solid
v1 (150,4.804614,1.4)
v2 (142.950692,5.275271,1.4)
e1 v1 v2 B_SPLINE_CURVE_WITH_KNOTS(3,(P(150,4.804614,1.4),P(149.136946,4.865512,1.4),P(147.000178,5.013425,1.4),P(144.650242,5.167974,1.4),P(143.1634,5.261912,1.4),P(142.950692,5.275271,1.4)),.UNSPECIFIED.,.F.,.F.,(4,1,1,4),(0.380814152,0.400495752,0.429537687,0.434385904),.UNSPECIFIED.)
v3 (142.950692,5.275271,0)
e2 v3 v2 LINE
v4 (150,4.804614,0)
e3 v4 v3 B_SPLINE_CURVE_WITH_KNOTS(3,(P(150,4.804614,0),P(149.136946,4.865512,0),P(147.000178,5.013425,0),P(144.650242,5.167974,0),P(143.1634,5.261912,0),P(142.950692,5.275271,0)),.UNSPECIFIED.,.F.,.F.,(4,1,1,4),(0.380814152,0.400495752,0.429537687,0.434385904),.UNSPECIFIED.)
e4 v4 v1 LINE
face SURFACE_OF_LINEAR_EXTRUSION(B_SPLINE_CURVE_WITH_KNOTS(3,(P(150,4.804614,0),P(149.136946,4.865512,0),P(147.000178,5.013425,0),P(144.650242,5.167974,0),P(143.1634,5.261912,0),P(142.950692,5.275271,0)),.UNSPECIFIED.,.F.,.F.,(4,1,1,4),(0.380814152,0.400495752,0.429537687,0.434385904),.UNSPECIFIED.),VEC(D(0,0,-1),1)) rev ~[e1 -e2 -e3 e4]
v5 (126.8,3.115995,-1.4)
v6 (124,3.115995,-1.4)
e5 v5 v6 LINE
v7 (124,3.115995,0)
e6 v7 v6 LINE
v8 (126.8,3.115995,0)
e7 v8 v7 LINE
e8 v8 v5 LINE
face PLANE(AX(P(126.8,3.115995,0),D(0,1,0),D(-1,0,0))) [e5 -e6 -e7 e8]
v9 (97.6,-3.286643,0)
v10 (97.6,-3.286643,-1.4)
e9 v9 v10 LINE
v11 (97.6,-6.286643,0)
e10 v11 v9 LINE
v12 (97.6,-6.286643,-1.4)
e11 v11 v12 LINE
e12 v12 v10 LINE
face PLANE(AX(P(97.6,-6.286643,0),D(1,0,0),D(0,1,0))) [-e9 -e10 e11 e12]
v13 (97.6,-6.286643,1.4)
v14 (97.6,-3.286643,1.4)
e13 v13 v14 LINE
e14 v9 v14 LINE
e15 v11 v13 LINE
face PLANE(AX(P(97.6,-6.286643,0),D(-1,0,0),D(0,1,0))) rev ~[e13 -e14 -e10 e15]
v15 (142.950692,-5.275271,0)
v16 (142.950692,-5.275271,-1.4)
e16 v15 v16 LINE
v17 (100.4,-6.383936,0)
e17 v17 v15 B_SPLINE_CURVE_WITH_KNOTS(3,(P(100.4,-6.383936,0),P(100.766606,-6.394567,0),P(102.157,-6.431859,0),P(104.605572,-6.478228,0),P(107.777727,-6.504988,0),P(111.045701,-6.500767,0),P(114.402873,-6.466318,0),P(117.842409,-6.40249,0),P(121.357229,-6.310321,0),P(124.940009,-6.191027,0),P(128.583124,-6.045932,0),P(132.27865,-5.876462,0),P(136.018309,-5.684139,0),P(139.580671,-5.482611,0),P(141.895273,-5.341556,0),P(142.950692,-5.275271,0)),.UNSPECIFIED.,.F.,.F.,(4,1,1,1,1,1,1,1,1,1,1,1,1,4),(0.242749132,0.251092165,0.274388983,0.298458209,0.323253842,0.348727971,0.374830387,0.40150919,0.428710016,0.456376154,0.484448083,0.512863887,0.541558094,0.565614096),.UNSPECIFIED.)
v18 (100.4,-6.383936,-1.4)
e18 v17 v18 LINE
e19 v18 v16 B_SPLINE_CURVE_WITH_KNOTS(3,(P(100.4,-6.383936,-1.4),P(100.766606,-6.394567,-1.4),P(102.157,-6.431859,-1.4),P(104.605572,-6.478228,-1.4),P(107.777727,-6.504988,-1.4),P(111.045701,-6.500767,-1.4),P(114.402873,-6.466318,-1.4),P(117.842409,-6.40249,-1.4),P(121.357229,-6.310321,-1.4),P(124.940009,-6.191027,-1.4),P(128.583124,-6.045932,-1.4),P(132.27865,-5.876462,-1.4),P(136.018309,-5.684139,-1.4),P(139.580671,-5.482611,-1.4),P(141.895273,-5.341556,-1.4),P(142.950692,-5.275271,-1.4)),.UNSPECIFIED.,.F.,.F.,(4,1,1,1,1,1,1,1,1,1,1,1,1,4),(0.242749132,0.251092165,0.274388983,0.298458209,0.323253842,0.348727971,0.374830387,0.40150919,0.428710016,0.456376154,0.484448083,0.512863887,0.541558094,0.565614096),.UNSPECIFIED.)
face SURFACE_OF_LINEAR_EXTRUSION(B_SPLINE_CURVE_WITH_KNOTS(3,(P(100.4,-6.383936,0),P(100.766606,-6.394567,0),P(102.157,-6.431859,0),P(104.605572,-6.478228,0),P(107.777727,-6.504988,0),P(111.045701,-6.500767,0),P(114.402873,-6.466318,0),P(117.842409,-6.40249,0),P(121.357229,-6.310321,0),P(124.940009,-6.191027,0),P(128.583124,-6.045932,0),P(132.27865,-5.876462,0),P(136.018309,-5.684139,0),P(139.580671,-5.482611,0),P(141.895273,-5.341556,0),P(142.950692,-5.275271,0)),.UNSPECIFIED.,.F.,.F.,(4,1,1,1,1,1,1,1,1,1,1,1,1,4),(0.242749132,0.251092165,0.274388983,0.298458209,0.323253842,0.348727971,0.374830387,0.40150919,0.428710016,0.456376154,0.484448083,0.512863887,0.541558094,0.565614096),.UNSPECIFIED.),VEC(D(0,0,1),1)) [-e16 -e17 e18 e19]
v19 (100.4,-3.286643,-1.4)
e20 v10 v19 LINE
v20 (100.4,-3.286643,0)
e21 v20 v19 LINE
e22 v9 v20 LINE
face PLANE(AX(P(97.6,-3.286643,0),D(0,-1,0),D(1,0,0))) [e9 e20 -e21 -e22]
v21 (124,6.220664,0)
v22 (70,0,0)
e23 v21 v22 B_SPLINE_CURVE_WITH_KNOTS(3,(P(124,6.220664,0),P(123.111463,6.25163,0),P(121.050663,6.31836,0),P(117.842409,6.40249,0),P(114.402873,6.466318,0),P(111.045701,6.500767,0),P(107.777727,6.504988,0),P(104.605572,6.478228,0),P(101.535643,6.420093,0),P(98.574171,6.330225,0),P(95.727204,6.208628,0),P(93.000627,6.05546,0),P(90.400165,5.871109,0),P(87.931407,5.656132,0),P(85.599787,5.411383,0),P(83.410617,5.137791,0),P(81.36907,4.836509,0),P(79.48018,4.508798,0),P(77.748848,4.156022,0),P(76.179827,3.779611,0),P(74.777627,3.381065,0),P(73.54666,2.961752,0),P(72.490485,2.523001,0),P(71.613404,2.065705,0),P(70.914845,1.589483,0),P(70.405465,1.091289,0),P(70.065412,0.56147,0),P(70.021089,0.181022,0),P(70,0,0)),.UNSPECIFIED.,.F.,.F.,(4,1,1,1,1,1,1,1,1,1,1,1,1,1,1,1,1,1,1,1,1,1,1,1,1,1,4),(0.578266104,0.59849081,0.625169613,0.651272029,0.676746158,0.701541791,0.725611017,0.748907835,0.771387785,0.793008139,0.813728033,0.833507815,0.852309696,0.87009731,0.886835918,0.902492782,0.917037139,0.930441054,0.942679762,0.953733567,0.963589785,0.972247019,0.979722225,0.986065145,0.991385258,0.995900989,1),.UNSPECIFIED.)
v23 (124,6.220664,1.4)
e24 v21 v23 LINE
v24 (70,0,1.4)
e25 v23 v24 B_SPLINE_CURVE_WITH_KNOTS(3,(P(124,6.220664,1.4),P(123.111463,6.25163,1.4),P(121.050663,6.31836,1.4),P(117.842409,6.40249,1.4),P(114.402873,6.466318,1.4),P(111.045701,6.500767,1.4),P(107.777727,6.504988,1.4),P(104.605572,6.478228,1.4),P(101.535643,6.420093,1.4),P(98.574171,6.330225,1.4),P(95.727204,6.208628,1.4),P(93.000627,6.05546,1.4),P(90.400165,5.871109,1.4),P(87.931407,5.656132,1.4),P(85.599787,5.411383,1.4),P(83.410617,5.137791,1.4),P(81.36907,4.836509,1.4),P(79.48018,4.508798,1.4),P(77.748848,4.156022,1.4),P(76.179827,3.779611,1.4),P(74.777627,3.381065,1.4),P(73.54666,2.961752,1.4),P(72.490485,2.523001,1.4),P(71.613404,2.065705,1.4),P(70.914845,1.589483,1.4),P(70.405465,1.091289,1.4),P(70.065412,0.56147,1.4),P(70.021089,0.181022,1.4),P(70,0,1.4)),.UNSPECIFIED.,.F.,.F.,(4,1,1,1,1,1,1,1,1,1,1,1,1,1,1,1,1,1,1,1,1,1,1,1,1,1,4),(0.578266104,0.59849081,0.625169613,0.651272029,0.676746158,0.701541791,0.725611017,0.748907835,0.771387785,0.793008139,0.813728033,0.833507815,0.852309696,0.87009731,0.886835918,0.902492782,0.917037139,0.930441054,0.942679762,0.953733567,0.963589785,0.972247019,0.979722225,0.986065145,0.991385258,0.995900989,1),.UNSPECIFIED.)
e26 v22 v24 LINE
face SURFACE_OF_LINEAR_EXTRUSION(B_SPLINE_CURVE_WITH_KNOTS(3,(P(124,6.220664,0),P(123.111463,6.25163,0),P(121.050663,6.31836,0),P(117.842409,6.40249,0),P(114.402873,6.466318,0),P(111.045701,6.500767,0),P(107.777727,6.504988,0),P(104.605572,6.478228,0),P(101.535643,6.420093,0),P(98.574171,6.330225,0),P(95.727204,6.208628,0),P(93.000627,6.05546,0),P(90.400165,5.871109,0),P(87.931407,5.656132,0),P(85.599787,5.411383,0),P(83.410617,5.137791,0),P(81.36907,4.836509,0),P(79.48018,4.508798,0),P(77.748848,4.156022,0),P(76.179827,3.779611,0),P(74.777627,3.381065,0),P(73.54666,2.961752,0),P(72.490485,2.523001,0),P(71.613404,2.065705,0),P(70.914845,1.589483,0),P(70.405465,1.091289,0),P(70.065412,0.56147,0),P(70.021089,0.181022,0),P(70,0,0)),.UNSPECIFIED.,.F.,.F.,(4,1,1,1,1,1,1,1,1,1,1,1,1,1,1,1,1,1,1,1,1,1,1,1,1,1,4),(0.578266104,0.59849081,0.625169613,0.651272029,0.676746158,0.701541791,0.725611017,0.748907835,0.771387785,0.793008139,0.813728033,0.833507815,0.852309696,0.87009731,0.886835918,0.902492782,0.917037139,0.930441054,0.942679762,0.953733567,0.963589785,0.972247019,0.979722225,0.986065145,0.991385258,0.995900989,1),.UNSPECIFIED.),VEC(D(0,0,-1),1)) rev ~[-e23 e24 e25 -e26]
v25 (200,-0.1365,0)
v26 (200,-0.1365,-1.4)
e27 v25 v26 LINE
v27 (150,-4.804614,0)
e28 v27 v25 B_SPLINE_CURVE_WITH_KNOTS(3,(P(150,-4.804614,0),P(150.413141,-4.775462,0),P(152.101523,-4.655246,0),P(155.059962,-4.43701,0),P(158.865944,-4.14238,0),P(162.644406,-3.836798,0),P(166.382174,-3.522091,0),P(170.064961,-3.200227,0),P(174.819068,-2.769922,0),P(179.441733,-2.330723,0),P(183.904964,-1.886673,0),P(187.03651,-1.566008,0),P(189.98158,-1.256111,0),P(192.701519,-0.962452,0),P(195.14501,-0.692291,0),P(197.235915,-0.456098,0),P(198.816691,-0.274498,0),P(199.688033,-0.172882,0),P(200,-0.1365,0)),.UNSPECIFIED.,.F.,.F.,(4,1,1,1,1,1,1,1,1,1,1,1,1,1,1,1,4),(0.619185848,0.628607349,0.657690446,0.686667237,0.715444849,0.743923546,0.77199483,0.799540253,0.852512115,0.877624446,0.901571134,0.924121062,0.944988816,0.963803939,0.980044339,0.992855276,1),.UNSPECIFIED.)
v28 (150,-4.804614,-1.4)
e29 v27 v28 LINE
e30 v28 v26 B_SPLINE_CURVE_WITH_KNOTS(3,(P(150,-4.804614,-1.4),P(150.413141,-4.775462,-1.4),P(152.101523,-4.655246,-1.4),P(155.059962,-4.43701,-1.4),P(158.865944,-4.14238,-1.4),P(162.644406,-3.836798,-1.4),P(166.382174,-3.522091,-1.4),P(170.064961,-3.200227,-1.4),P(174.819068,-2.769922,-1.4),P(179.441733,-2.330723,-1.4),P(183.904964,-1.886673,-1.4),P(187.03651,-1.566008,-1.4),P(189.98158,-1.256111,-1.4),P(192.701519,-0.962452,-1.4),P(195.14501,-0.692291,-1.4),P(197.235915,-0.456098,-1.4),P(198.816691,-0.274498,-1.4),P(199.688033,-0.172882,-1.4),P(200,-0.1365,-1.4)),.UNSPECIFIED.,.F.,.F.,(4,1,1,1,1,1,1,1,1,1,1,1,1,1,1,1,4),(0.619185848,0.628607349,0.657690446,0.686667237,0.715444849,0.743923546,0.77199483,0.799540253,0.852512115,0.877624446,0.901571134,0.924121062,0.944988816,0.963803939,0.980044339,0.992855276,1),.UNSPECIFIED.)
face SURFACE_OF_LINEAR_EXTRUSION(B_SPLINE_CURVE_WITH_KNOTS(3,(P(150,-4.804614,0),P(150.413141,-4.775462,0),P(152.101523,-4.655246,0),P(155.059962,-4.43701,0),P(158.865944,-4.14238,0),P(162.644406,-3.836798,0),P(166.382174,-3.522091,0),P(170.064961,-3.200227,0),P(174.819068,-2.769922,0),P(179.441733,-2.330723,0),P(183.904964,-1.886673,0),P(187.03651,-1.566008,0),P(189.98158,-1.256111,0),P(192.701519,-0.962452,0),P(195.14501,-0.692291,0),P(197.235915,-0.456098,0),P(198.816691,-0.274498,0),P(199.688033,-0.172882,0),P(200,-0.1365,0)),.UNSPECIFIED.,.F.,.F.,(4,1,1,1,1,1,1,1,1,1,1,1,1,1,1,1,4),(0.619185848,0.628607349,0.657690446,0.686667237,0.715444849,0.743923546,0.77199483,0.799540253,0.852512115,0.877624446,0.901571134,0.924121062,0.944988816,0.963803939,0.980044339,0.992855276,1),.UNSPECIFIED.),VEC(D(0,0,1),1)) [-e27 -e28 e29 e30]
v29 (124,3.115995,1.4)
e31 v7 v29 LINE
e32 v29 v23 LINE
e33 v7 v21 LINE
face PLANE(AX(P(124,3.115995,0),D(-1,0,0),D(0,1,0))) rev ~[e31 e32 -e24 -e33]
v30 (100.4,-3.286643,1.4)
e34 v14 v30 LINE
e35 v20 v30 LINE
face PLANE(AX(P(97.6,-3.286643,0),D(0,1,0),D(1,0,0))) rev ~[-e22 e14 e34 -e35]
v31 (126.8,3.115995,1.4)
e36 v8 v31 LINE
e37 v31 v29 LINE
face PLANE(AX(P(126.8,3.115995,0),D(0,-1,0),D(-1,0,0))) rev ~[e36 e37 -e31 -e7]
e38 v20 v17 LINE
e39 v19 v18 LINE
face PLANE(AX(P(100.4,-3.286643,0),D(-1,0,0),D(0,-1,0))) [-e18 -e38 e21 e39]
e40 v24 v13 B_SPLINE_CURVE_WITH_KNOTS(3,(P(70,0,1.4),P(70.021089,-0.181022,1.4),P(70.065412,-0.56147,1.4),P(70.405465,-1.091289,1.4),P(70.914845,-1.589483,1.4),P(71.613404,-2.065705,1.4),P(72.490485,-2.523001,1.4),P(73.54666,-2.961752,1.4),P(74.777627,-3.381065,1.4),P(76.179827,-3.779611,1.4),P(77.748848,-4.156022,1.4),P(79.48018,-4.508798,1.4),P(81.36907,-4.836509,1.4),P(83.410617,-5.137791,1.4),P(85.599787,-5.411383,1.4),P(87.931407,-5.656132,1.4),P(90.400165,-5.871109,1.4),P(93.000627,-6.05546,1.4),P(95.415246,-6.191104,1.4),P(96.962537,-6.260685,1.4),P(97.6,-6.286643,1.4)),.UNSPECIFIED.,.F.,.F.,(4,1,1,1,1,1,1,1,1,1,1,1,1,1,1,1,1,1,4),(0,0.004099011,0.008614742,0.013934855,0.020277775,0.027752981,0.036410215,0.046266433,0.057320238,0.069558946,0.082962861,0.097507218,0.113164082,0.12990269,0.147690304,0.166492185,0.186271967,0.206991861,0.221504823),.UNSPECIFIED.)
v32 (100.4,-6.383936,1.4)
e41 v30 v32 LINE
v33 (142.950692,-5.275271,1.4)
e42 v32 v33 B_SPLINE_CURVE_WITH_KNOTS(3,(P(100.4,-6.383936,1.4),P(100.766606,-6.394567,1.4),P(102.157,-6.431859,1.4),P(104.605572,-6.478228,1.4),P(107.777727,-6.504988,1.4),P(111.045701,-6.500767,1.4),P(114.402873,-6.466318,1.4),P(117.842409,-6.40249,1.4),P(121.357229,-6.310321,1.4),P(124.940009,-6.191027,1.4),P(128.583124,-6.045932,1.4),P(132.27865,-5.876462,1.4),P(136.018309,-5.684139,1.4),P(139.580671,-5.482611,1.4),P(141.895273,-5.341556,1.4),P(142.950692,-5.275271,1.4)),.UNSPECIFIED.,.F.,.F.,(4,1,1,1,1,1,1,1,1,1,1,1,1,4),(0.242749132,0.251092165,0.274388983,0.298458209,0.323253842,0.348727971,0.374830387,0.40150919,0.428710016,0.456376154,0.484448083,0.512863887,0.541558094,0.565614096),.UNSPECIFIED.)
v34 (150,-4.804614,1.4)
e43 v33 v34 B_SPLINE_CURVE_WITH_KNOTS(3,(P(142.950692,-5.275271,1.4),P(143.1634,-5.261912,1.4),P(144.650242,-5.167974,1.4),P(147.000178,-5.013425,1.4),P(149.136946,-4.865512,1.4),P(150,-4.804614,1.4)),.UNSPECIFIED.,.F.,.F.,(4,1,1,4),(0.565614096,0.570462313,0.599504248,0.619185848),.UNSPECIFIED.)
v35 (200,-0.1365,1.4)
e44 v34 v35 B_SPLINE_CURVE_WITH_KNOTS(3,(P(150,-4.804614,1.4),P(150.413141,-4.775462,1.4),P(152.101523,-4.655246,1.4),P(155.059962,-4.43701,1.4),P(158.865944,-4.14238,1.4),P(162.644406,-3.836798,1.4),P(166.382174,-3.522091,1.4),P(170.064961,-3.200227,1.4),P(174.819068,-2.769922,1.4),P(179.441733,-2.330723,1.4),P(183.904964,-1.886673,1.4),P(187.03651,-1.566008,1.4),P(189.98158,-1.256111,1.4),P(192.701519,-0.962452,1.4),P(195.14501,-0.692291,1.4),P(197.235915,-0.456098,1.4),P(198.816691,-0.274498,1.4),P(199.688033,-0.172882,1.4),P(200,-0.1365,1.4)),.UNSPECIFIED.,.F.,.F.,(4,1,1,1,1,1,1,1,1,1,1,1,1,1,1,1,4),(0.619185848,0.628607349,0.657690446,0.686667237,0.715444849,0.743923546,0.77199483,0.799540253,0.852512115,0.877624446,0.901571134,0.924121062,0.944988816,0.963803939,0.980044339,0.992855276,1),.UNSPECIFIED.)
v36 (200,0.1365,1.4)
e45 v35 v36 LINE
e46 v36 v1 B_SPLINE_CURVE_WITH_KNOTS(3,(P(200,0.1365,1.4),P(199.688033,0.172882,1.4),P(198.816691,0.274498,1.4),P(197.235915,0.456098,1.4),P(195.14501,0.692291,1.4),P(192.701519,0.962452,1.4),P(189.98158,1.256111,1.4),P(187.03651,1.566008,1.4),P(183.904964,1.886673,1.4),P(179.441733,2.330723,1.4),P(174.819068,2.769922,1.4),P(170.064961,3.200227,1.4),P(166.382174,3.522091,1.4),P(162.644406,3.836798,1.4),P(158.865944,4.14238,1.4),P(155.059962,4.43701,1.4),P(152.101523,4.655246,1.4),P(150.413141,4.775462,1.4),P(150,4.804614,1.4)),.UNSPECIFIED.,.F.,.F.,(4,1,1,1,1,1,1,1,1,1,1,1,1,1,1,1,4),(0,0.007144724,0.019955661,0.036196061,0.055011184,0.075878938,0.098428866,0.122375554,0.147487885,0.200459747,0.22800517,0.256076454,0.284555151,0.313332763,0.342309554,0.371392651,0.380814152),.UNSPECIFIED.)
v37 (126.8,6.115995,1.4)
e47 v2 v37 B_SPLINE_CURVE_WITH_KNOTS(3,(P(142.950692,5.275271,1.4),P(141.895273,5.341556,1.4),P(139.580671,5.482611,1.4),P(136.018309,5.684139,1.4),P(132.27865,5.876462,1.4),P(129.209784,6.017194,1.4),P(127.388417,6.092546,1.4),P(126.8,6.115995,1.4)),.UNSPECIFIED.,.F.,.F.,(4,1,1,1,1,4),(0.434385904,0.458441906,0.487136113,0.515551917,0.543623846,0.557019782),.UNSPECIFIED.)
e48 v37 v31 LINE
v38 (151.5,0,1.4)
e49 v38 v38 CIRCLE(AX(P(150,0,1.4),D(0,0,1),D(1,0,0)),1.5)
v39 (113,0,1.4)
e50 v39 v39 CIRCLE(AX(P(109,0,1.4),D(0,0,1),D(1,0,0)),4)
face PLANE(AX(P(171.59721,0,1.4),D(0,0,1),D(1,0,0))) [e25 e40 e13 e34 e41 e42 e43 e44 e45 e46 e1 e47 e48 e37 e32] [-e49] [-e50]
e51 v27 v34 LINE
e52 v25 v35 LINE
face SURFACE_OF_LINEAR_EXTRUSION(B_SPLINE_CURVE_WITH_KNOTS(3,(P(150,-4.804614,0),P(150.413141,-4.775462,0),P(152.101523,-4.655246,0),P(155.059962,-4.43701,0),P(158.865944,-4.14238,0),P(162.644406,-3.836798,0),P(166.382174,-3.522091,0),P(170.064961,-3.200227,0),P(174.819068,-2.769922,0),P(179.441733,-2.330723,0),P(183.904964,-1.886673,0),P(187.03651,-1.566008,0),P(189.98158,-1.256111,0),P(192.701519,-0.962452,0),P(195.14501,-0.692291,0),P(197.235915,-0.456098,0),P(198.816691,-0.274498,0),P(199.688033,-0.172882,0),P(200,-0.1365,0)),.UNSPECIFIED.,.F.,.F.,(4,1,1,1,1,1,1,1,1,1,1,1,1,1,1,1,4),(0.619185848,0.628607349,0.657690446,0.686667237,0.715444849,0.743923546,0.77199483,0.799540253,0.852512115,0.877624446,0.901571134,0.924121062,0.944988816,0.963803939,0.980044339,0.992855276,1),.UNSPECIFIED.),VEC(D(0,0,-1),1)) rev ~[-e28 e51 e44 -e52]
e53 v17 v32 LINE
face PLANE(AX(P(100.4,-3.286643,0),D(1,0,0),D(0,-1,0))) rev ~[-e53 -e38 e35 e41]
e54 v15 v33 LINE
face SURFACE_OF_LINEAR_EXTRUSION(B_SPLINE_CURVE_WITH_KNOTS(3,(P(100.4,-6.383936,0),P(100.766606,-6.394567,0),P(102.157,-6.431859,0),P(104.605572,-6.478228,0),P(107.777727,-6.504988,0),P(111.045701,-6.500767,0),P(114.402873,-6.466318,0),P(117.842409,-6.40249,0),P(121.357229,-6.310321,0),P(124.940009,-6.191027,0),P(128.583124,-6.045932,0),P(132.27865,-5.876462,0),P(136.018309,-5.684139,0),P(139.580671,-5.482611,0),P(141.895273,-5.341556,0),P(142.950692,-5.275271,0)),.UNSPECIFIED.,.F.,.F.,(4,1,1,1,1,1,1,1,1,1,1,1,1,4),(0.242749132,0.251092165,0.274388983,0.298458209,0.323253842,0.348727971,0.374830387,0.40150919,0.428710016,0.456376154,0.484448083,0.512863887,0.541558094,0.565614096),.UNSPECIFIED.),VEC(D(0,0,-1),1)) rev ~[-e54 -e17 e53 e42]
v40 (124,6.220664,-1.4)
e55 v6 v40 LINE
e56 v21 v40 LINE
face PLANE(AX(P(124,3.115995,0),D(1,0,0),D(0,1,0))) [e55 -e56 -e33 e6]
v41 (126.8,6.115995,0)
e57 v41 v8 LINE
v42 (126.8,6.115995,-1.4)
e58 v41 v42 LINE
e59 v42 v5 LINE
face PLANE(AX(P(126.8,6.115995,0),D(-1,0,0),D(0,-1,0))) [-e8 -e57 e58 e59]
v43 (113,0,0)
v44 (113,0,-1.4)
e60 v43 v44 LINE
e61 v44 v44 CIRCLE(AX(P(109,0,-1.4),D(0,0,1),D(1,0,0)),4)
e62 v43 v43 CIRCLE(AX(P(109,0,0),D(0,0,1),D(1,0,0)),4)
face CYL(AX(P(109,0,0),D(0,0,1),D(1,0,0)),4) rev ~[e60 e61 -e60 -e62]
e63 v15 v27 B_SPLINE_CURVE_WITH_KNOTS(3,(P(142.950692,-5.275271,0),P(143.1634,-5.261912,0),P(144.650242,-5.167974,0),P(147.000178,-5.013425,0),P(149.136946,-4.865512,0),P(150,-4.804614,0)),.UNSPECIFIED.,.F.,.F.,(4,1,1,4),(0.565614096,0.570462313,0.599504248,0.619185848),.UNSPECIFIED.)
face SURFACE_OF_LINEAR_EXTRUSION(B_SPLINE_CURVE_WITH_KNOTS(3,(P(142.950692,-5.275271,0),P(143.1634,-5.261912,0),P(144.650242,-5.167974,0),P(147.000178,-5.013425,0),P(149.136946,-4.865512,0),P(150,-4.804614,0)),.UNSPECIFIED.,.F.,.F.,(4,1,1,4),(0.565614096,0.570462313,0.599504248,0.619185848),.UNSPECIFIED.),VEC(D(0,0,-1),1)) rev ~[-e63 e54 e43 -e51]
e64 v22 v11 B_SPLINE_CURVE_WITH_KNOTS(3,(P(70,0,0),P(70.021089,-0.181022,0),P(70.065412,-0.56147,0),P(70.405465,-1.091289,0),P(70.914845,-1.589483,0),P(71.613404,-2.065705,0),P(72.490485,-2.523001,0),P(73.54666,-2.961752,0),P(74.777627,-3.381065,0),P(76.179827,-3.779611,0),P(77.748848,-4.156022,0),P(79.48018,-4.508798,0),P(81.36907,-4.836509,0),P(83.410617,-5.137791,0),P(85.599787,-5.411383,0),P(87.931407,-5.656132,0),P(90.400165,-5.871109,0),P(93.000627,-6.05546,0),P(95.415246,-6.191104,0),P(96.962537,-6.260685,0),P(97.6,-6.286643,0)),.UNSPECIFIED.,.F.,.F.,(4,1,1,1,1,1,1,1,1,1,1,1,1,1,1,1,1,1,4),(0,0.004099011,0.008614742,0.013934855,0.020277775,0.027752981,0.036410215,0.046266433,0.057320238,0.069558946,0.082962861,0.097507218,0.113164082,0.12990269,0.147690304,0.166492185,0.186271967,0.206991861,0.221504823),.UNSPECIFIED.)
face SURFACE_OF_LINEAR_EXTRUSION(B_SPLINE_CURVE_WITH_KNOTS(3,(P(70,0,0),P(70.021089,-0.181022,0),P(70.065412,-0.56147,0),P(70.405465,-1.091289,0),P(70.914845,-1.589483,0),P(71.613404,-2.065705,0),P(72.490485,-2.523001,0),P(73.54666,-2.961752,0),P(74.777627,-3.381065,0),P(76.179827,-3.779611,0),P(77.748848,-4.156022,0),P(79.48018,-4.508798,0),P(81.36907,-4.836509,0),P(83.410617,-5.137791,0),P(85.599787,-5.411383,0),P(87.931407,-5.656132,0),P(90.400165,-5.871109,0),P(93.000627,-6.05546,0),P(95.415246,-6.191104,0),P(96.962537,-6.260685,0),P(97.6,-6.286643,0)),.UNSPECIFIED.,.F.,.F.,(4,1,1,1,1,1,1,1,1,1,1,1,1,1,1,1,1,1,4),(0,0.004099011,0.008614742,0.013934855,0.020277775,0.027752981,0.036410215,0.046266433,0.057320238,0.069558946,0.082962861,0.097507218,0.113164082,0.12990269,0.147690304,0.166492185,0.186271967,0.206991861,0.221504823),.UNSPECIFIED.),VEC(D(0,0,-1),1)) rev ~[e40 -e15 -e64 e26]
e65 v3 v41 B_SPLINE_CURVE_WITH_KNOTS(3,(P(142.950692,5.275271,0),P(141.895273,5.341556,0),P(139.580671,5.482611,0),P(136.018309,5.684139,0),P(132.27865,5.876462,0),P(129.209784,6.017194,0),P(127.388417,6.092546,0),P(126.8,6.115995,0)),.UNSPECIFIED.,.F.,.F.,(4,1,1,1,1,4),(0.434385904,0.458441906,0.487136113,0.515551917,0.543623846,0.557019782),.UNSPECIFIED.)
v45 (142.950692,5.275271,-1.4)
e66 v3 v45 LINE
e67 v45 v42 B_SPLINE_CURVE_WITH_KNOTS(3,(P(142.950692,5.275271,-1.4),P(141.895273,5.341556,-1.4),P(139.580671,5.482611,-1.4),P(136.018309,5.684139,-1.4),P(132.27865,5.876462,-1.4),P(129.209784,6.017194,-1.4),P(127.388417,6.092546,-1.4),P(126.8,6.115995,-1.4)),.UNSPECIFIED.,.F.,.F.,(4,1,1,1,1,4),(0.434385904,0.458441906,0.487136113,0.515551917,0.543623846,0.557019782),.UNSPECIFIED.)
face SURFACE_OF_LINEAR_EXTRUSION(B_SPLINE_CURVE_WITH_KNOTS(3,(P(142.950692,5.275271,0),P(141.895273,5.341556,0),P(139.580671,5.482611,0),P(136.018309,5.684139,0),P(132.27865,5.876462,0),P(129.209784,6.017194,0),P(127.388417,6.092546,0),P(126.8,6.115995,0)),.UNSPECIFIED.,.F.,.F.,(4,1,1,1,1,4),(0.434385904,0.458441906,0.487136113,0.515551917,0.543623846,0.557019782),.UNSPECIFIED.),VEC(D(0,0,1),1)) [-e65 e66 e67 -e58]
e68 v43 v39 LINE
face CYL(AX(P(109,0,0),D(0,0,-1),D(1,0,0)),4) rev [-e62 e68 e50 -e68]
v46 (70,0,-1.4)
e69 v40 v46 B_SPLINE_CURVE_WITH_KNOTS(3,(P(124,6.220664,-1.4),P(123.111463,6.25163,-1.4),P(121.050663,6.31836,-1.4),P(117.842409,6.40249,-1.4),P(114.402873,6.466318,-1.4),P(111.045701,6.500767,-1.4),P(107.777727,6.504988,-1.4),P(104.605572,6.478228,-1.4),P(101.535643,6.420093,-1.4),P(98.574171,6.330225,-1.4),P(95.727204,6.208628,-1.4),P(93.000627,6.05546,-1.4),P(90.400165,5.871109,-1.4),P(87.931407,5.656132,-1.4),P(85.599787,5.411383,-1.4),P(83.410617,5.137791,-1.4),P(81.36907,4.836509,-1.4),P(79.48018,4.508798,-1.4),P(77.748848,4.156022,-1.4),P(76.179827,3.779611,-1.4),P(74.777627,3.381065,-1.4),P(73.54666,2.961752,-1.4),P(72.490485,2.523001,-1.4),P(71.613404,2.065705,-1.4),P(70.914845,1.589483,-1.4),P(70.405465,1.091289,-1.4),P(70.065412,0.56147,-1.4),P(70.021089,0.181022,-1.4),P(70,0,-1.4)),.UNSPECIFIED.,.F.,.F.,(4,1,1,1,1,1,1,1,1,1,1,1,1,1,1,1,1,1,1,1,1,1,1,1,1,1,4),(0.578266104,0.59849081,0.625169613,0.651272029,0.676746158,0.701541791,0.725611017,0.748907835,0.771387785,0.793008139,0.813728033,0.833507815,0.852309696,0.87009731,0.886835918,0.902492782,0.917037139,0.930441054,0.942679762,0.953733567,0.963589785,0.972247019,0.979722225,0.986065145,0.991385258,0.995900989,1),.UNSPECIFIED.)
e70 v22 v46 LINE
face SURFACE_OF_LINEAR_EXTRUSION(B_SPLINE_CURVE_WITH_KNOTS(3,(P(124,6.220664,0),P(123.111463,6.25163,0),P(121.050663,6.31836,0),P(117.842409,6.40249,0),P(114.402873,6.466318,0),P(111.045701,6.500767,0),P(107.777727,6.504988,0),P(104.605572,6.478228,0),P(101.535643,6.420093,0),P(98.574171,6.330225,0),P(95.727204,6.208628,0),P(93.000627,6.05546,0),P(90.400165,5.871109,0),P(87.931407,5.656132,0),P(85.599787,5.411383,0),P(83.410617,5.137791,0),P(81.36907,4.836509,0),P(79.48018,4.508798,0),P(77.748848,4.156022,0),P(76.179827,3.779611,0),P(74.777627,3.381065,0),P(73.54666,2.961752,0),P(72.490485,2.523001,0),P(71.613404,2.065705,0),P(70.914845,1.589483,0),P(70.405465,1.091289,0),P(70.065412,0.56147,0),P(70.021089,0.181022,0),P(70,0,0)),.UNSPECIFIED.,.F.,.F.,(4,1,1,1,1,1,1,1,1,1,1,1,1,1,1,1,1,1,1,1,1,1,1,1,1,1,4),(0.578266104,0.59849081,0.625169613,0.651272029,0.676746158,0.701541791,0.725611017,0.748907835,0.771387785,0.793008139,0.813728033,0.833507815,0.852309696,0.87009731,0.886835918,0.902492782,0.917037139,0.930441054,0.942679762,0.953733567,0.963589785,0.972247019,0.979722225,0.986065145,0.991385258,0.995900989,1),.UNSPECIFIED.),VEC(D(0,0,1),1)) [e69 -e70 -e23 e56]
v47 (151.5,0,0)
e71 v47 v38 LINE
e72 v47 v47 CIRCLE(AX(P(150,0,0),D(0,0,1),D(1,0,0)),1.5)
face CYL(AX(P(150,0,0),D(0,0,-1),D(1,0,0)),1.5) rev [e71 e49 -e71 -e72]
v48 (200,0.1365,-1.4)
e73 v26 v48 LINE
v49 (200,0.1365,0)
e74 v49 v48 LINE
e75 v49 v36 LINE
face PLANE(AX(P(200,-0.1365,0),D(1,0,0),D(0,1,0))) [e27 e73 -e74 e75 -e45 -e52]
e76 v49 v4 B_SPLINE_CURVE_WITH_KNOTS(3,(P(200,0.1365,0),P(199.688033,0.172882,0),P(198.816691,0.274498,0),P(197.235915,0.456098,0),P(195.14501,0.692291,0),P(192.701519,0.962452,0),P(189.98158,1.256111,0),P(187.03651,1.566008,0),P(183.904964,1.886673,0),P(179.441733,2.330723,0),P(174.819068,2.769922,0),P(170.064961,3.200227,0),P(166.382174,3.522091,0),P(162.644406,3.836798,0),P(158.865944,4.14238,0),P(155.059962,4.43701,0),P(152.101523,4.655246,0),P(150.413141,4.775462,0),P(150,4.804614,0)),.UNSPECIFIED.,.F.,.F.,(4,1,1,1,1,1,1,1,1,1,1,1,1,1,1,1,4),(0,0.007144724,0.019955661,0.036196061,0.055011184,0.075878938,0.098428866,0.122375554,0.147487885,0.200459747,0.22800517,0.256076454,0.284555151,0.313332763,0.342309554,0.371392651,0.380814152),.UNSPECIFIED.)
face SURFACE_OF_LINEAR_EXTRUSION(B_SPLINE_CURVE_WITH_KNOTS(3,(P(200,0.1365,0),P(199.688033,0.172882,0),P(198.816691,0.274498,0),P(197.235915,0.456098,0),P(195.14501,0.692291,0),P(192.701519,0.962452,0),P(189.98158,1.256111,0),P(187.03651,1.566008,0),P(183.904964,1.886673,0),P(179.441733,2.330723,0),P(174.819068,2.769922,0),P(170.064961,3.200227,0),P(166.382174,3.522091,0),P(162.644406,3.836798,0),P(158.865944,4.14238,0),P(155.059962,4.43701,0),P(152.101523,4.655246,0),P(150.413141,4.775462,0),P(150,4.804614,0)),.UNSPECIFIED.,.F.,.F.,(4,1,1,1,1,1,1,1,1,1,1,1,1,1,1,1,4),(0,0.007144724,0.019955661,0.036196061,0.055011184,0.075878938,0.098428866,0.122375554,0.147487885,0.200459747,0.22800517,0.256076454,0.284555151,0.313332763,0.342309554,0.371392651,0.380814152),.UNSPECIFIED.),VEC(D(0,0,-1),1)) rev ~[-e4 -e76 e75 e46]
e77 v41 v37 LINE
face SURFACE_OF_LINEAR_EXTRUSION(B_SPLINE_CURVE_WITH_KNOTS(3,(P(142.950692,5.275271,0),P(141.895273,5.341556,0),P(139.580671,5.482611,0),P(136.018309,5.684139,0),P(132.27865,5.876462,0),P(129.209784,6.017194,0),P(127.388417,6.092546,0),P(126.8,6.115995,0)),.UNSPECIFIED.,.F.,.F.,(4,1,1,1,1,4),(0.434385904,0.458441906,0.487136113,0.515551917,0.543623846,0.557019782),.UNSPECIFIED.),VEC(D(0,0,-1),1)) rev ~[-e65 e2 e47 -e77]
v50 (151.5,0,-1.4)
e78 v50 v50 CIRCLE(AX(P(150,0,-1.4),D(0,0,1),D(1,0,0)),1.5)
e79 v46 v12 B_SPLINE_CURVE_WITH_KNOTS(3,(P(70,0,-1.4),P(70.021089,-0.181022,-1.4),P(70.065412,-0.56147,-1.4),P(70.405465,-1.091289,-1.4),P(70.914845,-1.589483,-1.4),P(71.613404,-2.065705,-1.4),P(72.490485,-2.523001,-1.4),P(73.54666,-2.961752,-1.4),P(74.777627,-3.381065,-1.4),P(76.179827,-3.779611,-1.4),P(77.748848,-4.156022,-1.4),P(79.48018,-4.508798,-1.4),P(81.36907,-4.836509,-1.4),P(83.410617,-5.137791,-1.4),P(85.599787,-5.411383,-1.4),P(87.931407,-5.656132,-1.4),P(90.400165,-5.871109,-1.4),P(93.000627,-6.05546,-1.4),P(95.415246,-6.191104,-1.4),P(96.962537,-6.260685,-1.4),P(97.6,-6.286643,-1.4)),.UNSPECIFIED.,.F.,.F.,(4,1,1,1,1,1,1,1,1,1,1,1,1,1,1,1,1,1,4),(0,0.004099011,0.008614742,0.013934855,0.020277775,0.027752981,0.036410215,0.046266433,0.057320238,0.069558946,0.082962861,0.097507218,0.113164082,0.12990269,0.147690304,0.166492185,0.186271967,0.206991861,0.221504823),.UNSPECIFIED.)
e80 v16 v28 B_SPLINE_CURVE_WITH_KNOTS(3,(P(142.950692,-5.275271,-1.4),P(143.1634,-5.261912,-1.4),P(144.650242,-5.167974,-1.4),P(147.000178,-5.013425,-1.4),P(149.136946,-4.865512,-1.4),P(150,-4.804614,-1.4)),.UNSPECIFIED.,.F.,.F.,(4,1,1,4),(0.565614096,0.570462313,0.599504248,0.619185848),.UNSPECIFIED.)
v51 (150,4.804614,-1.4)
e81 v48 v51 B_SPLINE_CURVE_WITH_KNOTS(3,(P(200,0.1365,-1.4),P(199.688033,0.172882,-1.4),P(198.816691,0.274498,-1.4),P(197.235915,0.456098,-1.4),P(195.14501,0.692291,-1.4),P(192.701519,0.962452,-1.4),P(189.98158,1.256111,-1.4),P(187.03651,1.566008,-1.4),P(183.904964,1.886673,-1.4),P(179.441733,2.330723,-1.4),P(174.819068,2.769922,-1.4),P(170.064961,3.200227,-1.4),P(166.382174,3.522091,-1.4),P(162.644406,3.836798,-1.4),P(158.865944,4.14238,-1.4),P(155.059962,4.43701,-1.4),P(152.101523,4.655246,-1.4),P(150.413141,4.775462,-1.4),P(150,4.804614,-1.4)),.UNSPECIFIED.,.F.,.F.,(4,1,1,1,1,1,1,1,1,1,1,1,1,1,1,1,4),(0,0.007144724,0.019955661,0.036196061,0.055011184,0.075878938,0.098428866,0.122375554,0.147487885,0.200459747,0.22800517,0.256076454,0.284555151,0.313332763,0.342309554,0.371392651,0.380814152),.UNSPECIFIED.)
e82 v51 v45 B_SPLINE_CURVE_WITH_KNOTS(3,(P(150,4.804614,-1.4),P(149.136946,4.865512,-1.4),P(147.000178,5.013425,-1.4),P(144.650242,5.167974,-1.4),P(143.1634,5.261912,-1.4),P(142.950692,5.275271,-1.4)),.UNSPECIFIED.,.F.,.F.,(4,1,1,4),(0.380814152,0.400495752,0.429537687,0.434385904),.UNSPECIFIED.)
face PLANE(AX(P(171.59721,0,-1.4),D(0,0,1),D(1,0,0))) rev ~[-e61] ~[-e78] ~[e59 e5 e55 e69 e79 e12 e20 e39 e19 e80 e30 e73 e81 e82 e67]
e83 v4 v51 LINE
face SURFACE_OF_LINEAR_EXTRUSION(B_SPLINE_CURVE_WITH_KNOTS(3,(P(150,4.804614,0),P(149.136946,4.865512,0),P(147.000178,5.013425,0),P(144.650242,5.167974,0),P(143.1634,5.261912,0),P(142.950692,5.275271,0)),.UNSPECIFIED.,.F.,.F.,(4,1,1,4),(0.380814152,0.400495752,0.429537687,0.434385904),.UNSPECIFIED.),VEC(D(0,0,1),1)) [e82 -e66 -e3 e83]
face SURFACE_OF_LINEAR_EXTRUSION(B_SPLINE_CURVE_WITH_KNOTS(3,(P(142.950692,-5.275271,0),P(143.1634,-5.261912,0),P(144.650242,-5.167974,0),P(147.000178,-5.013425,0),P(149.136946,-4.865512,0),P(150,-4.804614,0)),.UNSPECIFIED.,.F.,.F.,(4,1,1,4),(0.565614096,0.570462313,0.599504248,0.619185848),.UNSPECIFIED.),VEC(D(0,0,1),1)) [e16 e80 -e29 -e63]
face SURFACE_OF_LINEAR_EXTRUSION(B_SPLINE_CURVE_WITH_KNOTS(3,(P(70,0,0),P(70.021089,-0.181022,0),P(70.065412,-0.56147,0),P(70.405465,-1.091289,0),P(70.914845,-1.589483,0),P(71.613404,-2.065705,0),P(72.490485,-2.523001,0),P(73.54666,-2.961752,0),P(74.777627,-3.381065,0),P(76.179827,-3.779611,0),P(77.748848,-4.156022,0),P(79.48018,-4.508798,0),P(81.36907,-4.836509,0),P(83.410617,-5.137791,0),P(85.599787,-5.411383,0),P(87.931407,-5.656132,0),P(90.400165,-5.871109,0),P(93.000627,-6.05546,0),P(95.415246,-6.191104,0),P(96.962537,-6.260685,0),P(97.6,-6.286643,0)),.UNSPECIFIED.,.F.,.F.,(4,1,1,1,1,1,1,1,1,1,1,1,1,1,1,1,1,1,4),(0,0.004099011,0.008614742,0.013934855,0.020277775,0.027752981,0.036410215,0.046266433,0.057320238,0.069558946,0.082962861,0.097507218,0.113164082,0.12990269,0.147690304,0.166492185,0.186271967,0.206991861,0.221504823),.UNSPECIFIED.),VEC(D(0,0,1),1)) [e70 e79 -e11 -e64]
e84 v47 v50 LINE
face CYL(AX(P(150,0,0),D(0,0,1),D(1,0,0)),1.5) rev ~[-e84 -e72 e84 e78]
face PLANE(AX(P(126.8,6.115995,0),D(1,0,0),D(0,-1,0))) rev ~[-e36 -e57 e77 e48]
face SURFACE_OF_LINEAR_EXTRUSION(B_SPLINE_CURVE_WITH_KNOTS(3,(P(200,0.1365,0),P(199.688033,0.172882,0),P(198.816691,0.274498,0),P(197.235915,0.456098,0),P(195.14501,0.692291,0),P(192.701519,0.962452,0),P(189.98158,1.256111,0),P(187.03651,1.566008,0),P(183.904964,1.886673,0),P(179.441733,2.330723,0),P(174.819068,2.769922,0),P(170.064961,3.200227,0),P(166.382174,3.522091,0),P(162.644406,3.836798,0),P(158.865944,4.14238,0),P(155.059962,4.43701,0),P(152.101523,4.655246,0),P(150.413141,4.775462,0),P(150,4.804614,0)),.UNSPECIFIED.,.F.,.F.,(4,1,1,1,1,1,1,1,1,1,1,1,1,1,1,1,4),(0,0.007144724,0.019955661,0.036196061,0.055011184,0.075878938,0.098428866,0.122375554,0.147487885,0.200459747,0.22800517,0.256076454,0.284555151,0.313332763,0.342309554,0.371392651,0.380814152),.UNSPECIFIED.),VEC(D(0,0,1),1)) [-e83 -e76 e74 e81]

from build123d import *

# Parameters (mm, degrees)
SKETCH_1_R      = 4
SKETCH_1_R_2    = 1.5
EXTRUDE_1_DEPTH = 1.4


with BuildPart() as part:
    # Эскиз1 → Бобышка-Вытянуть1 (new, symmetric)
    # profile 1 of 3: a face of its own
    with BuildSketch(Plane.XY):
        with BuildLine():
            ThreePointArc((142.9506924, -5.275271304), (141.195386154, 0), (142.9506924, 5.275271304))
            add(Edge.make_bspline(
                [(142.9506924, 5.275271304), (141.895273265, 5.341555985), (139.58067118, 5.482611203), (136.018308787, 5.684139375), (132.278649951, 5.876462218), (129.209784139, 6.017194243), (127.3884169, 6.092546027), (126.8, 6.115995161)],
                knots=[0.434385904, 0.434385904, 0.434385904, 0.434385904, 0.458441906, 0.487136113, 0.515551917, 0.543623846, 0.557019782, 0.557019782, 0.557019782, 0.557019782], degree=3))
            Line((126.8, 6.115995161), (126.8, 3.115995161))
            Line((126.8, 3.115995161), (124, 3.115995161))
            Line((124, 3.115995161), (124, 6.220663768))
            add(Edge.make_bspline(
                [(124, 6.220663768), (123.11146317, 6.251630223), (121.050662796, 6.318359671), (117.842409031, 6.402489725), (114.402873354, 6.466317507), (111.045700994, 6.50076677), (107.777727309, 6.504988151), (104.605571578, 6.478227912), (101.535643119, 6.420092882), (98.574171232, 6.330224571), (95.72720364, 6.20862837), (93.000627425, 6.055460368), (90.400165433, 5.871109356), (87.93140692, 5.6561322), (85.599787172, 5.411383296), (83.410617303, 5.137791437), (81.369070337, 4.836509353), (79.480180392, 4.50879808), (77.748848327, 4.156021599), (76.179826925, 3.779610549), (74.777626787, 3.381064766), (73.546659786, 2.961752121), (72.490485221, 2.523001182), (71.613403941, 2.065704885), (70.914845437, 1.589483413), (70.405465138, 1.091288639), (70.065411578, 0.561470169), (70.021089193, 0.181022278), (70, 0)],
                knots=[0.578266104, 0.578266104, 0.578266104, 0.578266104, 0.59849081, 0.625169613, 0.651272029, 0.676746158, 0.701541791, 0.725611017, 0.748907835, 0.771387785, 0.793008139, 0.813728033, 0.833507815, 0.852309696, 0.87009731, 0.886835918, 0.902492782, 0.917037139, 0.930441054, 0.942679762, 0.953733567, 0.963589785, 0.972247019, 0.979722225, 0.986065145, 0.991385258, 0.995900989, 1, 1, 1, 1], degree=3))
            add(Edge.make_bspline(
                [(70, 0), (70.021089193, -0.181022278), (70.065411578, -0.561470169), (70.405465138, -1.091288639), (70.914845437, -1.589483413), (71.613403941, -2.065704885), (72.490485221, -2.523001182), (73.546659786, -2.961752121), (74.777626787, -3.381064766), (76.179826925, -3.779610549), (77.748848327, -4.156021599), (79.480180392, -4.50879808), (81.369070337, -4.836509353), (83.410617303, -5.137791437), (85.599787172, -5.411383296), (87.93140692, -5.6561322), (90.400165433, -5.871109356), (93.000627425, -6.055460368), (95.41524555, -6.191103829), (96.962536517, -6.260685275), (97.6, -6.286643263)],
                knots=[0, 0, 0, 0, 0.004099011, 0.008614742, 0.013934855, 0.020277775, 0.027752981, 0.036410215, 0.046266433, 0.057320238, 0.069558946, 0.082962861, 0.097507218, 0.113164082, 0.12990269, 0.147690304, 0.166492185, 0.186271967, 0.206991861, 0.221504823, 0.221504823, 0.221504823, 0.221504823], degree=3))
            Line((97.6, -6.286643263), (97.6, -3.286643263))
            Line((97.6, -3.286643263), (100.4, -3.286643263))
            Line((100.4, -3.286643263), (100.4, -6.38393598))
            add(Edge.make_bspline(
                [(100.4, -6.38393598), (100.766606381, -6.394566581), (102.157000483, -6.431859484), (104.605571578, -6.478227912), (107.777727309, -6.504988151), (111.045700994, -6.50076677), (114.402873354, -6.466317507), (117.842409031, -6.402489725), (121.357229156, -6.31032058), (124.940008831, -6.191027083), (128.583123626, -6.045931636), (132.278649951, -5.876462218), (136.018308787, -5.684139375), (139.58067118, -5.482611203), (141.895273265, -5.341555985), (142.9506924, -5.275271304)],
                knots=[0.242749132, 0.242749132, 0.242749132, 0.242749132, 0.251092165, 0.274388983, 0.298458209, 0.323253842, 0.348727971, 0.374830387, 0.40150919, 0.428710016, 0.456376154, 0.484448083, 0.512863887, 0.541558094, 0.565614096, 0.565614096, 0.565614096, 0.565614096], degree=3))
        make_face()
        with Locations((109, 0)):
            Circle(SKETCH_1_R, mode=Mode.SUBTRACT)
    # profile 2 of 3: a face of its own
    with BuildSketch(Plane.XY):
        with BuildLine():
            ThreePointArc((150, -4.804613846), (145.195386154, 0), (150, 4.804613846))
            add(Edge.make_bspline(
                [(150, 4.804613846), (149.136945561, 4.865512022), (147.000177515, 5.013425176), (144.650242252, 5.167974314), (143.163400263, 5.261912372), (142.9506924, 5.275271304)],
                knots=[0.380814152, 0.380814152, 0.380814152, 0.380814152, 0.400495752, 0.429537687, 0.434385904, 0.434385904, 0.434385904, 0.434385904], degree=3))
            ThreePointArc((142.9506924, 5.275271304), (141.195386154, 0), (142.9506924, -5.275271304))
            add(Edge.make_bspline(
                [(142.9506924, -5.275271304), (143.163400263, -5.261912372), (144.650242252, -5.167974314), (147.000177515, -5.013425176), (149.136945561, -4.865512022), (150, -4.804613846)],
                knots=[0.565614096, 0.565614096, 0.565614096, 0.565614096, 0.570462313, 0.599504248, 0.619185848, 0.619185848, 0.619185848, 0.619185848], degree=3))
        make_face()
    # profile 3 of 3: a face of its own
    with BuildSketch(Plane.XY):
        with BuildLine():
            Line((200, -0.1365), (200, 0.1365))
            add(Edge.make_bspline(
                [(200, 0.1365), (199.68803342, 0.172881569), (198.81669122, 0.27449757), (197.235914613, 0.456098486), (195.145010046, 0.692291497), (192.701519493, 0.962451868), (189.981579718, 1.256111468), (187.036509642, 1.566007991), (183.904963565, 1.886673282), (179.441732645, 2.330723386), (174.819068239, 2.769921708), (170.064960651, 3.20022732), (166.382173561, 3.522091337), (162.644406173, 3.836797902), (158.865943793, 4.14237985), (155.059961592, 4.437010481), (152.101523013, 4.655245952), (150.413140573, 4.775462142), (150, 4.804613846)],
                knots=[0, 0, 0, 0, 0.007144724, 0.019955661, 0.036196061, 0.055011184, 0.075878938, 0.098428866, 0.122375554, 0.147487885, 0.200459747, 0.22800517, 0.256076454, 0.284555151, 0.313332763, 0.342309554, 0.371392651, 0.380814152, 0.380814152, 0.380814152, 0.380814152], degree=3))
            ThreePointArc((150, 4.804613846), (145.195386154, 0), (150, -4.804613846))
            add(Edge.make_bspline(
                [(150, -4.804613846), (150.413140573, -4.775462142), (152.101523013, -4.655245952), (155.059961592, -4.437010481), (158.865943793, -4.14237985), (162.644406173, -3.836797902), (166.382173561, -3.522091337), (170.064960651, -3.20022732), (174.819068239, -2.769921708), (179.441732645, -2.330723386), (183.904963565, -1.886673282), (187.036509642, -1.566007991), (189.981579718, -1.256111468), (192.701519493, -0.962451868), (195.145010046, -0.692291497), (197.235914613, -0.456098486), (198.81669122, -0.27449757), (199.68803342, -0.172881569), (200, -0.1365)],
                knots=[0.619185848, 0.619185848, 0.619185848, 0.619185848, 0.628607349, 0.657690446, 0.686667237, 0.715444849, 0.743923546, 0.77199483, 0.799540253, 0.852512115, 0.877624446, 0.901571134, 0.924121062, 0.944988816, 0.963803939, 0.980044339, 0.992855276, 1, 1, 1, 1], degree=3))
        make_face()
        with Locations((150, 0)):
            Circle(SKETCH_1_R_2, mode=Mode.SUBTRACT)
    extrude(amount=EXTRUDE_1_DEPTH, both=True)


solid = part.part
